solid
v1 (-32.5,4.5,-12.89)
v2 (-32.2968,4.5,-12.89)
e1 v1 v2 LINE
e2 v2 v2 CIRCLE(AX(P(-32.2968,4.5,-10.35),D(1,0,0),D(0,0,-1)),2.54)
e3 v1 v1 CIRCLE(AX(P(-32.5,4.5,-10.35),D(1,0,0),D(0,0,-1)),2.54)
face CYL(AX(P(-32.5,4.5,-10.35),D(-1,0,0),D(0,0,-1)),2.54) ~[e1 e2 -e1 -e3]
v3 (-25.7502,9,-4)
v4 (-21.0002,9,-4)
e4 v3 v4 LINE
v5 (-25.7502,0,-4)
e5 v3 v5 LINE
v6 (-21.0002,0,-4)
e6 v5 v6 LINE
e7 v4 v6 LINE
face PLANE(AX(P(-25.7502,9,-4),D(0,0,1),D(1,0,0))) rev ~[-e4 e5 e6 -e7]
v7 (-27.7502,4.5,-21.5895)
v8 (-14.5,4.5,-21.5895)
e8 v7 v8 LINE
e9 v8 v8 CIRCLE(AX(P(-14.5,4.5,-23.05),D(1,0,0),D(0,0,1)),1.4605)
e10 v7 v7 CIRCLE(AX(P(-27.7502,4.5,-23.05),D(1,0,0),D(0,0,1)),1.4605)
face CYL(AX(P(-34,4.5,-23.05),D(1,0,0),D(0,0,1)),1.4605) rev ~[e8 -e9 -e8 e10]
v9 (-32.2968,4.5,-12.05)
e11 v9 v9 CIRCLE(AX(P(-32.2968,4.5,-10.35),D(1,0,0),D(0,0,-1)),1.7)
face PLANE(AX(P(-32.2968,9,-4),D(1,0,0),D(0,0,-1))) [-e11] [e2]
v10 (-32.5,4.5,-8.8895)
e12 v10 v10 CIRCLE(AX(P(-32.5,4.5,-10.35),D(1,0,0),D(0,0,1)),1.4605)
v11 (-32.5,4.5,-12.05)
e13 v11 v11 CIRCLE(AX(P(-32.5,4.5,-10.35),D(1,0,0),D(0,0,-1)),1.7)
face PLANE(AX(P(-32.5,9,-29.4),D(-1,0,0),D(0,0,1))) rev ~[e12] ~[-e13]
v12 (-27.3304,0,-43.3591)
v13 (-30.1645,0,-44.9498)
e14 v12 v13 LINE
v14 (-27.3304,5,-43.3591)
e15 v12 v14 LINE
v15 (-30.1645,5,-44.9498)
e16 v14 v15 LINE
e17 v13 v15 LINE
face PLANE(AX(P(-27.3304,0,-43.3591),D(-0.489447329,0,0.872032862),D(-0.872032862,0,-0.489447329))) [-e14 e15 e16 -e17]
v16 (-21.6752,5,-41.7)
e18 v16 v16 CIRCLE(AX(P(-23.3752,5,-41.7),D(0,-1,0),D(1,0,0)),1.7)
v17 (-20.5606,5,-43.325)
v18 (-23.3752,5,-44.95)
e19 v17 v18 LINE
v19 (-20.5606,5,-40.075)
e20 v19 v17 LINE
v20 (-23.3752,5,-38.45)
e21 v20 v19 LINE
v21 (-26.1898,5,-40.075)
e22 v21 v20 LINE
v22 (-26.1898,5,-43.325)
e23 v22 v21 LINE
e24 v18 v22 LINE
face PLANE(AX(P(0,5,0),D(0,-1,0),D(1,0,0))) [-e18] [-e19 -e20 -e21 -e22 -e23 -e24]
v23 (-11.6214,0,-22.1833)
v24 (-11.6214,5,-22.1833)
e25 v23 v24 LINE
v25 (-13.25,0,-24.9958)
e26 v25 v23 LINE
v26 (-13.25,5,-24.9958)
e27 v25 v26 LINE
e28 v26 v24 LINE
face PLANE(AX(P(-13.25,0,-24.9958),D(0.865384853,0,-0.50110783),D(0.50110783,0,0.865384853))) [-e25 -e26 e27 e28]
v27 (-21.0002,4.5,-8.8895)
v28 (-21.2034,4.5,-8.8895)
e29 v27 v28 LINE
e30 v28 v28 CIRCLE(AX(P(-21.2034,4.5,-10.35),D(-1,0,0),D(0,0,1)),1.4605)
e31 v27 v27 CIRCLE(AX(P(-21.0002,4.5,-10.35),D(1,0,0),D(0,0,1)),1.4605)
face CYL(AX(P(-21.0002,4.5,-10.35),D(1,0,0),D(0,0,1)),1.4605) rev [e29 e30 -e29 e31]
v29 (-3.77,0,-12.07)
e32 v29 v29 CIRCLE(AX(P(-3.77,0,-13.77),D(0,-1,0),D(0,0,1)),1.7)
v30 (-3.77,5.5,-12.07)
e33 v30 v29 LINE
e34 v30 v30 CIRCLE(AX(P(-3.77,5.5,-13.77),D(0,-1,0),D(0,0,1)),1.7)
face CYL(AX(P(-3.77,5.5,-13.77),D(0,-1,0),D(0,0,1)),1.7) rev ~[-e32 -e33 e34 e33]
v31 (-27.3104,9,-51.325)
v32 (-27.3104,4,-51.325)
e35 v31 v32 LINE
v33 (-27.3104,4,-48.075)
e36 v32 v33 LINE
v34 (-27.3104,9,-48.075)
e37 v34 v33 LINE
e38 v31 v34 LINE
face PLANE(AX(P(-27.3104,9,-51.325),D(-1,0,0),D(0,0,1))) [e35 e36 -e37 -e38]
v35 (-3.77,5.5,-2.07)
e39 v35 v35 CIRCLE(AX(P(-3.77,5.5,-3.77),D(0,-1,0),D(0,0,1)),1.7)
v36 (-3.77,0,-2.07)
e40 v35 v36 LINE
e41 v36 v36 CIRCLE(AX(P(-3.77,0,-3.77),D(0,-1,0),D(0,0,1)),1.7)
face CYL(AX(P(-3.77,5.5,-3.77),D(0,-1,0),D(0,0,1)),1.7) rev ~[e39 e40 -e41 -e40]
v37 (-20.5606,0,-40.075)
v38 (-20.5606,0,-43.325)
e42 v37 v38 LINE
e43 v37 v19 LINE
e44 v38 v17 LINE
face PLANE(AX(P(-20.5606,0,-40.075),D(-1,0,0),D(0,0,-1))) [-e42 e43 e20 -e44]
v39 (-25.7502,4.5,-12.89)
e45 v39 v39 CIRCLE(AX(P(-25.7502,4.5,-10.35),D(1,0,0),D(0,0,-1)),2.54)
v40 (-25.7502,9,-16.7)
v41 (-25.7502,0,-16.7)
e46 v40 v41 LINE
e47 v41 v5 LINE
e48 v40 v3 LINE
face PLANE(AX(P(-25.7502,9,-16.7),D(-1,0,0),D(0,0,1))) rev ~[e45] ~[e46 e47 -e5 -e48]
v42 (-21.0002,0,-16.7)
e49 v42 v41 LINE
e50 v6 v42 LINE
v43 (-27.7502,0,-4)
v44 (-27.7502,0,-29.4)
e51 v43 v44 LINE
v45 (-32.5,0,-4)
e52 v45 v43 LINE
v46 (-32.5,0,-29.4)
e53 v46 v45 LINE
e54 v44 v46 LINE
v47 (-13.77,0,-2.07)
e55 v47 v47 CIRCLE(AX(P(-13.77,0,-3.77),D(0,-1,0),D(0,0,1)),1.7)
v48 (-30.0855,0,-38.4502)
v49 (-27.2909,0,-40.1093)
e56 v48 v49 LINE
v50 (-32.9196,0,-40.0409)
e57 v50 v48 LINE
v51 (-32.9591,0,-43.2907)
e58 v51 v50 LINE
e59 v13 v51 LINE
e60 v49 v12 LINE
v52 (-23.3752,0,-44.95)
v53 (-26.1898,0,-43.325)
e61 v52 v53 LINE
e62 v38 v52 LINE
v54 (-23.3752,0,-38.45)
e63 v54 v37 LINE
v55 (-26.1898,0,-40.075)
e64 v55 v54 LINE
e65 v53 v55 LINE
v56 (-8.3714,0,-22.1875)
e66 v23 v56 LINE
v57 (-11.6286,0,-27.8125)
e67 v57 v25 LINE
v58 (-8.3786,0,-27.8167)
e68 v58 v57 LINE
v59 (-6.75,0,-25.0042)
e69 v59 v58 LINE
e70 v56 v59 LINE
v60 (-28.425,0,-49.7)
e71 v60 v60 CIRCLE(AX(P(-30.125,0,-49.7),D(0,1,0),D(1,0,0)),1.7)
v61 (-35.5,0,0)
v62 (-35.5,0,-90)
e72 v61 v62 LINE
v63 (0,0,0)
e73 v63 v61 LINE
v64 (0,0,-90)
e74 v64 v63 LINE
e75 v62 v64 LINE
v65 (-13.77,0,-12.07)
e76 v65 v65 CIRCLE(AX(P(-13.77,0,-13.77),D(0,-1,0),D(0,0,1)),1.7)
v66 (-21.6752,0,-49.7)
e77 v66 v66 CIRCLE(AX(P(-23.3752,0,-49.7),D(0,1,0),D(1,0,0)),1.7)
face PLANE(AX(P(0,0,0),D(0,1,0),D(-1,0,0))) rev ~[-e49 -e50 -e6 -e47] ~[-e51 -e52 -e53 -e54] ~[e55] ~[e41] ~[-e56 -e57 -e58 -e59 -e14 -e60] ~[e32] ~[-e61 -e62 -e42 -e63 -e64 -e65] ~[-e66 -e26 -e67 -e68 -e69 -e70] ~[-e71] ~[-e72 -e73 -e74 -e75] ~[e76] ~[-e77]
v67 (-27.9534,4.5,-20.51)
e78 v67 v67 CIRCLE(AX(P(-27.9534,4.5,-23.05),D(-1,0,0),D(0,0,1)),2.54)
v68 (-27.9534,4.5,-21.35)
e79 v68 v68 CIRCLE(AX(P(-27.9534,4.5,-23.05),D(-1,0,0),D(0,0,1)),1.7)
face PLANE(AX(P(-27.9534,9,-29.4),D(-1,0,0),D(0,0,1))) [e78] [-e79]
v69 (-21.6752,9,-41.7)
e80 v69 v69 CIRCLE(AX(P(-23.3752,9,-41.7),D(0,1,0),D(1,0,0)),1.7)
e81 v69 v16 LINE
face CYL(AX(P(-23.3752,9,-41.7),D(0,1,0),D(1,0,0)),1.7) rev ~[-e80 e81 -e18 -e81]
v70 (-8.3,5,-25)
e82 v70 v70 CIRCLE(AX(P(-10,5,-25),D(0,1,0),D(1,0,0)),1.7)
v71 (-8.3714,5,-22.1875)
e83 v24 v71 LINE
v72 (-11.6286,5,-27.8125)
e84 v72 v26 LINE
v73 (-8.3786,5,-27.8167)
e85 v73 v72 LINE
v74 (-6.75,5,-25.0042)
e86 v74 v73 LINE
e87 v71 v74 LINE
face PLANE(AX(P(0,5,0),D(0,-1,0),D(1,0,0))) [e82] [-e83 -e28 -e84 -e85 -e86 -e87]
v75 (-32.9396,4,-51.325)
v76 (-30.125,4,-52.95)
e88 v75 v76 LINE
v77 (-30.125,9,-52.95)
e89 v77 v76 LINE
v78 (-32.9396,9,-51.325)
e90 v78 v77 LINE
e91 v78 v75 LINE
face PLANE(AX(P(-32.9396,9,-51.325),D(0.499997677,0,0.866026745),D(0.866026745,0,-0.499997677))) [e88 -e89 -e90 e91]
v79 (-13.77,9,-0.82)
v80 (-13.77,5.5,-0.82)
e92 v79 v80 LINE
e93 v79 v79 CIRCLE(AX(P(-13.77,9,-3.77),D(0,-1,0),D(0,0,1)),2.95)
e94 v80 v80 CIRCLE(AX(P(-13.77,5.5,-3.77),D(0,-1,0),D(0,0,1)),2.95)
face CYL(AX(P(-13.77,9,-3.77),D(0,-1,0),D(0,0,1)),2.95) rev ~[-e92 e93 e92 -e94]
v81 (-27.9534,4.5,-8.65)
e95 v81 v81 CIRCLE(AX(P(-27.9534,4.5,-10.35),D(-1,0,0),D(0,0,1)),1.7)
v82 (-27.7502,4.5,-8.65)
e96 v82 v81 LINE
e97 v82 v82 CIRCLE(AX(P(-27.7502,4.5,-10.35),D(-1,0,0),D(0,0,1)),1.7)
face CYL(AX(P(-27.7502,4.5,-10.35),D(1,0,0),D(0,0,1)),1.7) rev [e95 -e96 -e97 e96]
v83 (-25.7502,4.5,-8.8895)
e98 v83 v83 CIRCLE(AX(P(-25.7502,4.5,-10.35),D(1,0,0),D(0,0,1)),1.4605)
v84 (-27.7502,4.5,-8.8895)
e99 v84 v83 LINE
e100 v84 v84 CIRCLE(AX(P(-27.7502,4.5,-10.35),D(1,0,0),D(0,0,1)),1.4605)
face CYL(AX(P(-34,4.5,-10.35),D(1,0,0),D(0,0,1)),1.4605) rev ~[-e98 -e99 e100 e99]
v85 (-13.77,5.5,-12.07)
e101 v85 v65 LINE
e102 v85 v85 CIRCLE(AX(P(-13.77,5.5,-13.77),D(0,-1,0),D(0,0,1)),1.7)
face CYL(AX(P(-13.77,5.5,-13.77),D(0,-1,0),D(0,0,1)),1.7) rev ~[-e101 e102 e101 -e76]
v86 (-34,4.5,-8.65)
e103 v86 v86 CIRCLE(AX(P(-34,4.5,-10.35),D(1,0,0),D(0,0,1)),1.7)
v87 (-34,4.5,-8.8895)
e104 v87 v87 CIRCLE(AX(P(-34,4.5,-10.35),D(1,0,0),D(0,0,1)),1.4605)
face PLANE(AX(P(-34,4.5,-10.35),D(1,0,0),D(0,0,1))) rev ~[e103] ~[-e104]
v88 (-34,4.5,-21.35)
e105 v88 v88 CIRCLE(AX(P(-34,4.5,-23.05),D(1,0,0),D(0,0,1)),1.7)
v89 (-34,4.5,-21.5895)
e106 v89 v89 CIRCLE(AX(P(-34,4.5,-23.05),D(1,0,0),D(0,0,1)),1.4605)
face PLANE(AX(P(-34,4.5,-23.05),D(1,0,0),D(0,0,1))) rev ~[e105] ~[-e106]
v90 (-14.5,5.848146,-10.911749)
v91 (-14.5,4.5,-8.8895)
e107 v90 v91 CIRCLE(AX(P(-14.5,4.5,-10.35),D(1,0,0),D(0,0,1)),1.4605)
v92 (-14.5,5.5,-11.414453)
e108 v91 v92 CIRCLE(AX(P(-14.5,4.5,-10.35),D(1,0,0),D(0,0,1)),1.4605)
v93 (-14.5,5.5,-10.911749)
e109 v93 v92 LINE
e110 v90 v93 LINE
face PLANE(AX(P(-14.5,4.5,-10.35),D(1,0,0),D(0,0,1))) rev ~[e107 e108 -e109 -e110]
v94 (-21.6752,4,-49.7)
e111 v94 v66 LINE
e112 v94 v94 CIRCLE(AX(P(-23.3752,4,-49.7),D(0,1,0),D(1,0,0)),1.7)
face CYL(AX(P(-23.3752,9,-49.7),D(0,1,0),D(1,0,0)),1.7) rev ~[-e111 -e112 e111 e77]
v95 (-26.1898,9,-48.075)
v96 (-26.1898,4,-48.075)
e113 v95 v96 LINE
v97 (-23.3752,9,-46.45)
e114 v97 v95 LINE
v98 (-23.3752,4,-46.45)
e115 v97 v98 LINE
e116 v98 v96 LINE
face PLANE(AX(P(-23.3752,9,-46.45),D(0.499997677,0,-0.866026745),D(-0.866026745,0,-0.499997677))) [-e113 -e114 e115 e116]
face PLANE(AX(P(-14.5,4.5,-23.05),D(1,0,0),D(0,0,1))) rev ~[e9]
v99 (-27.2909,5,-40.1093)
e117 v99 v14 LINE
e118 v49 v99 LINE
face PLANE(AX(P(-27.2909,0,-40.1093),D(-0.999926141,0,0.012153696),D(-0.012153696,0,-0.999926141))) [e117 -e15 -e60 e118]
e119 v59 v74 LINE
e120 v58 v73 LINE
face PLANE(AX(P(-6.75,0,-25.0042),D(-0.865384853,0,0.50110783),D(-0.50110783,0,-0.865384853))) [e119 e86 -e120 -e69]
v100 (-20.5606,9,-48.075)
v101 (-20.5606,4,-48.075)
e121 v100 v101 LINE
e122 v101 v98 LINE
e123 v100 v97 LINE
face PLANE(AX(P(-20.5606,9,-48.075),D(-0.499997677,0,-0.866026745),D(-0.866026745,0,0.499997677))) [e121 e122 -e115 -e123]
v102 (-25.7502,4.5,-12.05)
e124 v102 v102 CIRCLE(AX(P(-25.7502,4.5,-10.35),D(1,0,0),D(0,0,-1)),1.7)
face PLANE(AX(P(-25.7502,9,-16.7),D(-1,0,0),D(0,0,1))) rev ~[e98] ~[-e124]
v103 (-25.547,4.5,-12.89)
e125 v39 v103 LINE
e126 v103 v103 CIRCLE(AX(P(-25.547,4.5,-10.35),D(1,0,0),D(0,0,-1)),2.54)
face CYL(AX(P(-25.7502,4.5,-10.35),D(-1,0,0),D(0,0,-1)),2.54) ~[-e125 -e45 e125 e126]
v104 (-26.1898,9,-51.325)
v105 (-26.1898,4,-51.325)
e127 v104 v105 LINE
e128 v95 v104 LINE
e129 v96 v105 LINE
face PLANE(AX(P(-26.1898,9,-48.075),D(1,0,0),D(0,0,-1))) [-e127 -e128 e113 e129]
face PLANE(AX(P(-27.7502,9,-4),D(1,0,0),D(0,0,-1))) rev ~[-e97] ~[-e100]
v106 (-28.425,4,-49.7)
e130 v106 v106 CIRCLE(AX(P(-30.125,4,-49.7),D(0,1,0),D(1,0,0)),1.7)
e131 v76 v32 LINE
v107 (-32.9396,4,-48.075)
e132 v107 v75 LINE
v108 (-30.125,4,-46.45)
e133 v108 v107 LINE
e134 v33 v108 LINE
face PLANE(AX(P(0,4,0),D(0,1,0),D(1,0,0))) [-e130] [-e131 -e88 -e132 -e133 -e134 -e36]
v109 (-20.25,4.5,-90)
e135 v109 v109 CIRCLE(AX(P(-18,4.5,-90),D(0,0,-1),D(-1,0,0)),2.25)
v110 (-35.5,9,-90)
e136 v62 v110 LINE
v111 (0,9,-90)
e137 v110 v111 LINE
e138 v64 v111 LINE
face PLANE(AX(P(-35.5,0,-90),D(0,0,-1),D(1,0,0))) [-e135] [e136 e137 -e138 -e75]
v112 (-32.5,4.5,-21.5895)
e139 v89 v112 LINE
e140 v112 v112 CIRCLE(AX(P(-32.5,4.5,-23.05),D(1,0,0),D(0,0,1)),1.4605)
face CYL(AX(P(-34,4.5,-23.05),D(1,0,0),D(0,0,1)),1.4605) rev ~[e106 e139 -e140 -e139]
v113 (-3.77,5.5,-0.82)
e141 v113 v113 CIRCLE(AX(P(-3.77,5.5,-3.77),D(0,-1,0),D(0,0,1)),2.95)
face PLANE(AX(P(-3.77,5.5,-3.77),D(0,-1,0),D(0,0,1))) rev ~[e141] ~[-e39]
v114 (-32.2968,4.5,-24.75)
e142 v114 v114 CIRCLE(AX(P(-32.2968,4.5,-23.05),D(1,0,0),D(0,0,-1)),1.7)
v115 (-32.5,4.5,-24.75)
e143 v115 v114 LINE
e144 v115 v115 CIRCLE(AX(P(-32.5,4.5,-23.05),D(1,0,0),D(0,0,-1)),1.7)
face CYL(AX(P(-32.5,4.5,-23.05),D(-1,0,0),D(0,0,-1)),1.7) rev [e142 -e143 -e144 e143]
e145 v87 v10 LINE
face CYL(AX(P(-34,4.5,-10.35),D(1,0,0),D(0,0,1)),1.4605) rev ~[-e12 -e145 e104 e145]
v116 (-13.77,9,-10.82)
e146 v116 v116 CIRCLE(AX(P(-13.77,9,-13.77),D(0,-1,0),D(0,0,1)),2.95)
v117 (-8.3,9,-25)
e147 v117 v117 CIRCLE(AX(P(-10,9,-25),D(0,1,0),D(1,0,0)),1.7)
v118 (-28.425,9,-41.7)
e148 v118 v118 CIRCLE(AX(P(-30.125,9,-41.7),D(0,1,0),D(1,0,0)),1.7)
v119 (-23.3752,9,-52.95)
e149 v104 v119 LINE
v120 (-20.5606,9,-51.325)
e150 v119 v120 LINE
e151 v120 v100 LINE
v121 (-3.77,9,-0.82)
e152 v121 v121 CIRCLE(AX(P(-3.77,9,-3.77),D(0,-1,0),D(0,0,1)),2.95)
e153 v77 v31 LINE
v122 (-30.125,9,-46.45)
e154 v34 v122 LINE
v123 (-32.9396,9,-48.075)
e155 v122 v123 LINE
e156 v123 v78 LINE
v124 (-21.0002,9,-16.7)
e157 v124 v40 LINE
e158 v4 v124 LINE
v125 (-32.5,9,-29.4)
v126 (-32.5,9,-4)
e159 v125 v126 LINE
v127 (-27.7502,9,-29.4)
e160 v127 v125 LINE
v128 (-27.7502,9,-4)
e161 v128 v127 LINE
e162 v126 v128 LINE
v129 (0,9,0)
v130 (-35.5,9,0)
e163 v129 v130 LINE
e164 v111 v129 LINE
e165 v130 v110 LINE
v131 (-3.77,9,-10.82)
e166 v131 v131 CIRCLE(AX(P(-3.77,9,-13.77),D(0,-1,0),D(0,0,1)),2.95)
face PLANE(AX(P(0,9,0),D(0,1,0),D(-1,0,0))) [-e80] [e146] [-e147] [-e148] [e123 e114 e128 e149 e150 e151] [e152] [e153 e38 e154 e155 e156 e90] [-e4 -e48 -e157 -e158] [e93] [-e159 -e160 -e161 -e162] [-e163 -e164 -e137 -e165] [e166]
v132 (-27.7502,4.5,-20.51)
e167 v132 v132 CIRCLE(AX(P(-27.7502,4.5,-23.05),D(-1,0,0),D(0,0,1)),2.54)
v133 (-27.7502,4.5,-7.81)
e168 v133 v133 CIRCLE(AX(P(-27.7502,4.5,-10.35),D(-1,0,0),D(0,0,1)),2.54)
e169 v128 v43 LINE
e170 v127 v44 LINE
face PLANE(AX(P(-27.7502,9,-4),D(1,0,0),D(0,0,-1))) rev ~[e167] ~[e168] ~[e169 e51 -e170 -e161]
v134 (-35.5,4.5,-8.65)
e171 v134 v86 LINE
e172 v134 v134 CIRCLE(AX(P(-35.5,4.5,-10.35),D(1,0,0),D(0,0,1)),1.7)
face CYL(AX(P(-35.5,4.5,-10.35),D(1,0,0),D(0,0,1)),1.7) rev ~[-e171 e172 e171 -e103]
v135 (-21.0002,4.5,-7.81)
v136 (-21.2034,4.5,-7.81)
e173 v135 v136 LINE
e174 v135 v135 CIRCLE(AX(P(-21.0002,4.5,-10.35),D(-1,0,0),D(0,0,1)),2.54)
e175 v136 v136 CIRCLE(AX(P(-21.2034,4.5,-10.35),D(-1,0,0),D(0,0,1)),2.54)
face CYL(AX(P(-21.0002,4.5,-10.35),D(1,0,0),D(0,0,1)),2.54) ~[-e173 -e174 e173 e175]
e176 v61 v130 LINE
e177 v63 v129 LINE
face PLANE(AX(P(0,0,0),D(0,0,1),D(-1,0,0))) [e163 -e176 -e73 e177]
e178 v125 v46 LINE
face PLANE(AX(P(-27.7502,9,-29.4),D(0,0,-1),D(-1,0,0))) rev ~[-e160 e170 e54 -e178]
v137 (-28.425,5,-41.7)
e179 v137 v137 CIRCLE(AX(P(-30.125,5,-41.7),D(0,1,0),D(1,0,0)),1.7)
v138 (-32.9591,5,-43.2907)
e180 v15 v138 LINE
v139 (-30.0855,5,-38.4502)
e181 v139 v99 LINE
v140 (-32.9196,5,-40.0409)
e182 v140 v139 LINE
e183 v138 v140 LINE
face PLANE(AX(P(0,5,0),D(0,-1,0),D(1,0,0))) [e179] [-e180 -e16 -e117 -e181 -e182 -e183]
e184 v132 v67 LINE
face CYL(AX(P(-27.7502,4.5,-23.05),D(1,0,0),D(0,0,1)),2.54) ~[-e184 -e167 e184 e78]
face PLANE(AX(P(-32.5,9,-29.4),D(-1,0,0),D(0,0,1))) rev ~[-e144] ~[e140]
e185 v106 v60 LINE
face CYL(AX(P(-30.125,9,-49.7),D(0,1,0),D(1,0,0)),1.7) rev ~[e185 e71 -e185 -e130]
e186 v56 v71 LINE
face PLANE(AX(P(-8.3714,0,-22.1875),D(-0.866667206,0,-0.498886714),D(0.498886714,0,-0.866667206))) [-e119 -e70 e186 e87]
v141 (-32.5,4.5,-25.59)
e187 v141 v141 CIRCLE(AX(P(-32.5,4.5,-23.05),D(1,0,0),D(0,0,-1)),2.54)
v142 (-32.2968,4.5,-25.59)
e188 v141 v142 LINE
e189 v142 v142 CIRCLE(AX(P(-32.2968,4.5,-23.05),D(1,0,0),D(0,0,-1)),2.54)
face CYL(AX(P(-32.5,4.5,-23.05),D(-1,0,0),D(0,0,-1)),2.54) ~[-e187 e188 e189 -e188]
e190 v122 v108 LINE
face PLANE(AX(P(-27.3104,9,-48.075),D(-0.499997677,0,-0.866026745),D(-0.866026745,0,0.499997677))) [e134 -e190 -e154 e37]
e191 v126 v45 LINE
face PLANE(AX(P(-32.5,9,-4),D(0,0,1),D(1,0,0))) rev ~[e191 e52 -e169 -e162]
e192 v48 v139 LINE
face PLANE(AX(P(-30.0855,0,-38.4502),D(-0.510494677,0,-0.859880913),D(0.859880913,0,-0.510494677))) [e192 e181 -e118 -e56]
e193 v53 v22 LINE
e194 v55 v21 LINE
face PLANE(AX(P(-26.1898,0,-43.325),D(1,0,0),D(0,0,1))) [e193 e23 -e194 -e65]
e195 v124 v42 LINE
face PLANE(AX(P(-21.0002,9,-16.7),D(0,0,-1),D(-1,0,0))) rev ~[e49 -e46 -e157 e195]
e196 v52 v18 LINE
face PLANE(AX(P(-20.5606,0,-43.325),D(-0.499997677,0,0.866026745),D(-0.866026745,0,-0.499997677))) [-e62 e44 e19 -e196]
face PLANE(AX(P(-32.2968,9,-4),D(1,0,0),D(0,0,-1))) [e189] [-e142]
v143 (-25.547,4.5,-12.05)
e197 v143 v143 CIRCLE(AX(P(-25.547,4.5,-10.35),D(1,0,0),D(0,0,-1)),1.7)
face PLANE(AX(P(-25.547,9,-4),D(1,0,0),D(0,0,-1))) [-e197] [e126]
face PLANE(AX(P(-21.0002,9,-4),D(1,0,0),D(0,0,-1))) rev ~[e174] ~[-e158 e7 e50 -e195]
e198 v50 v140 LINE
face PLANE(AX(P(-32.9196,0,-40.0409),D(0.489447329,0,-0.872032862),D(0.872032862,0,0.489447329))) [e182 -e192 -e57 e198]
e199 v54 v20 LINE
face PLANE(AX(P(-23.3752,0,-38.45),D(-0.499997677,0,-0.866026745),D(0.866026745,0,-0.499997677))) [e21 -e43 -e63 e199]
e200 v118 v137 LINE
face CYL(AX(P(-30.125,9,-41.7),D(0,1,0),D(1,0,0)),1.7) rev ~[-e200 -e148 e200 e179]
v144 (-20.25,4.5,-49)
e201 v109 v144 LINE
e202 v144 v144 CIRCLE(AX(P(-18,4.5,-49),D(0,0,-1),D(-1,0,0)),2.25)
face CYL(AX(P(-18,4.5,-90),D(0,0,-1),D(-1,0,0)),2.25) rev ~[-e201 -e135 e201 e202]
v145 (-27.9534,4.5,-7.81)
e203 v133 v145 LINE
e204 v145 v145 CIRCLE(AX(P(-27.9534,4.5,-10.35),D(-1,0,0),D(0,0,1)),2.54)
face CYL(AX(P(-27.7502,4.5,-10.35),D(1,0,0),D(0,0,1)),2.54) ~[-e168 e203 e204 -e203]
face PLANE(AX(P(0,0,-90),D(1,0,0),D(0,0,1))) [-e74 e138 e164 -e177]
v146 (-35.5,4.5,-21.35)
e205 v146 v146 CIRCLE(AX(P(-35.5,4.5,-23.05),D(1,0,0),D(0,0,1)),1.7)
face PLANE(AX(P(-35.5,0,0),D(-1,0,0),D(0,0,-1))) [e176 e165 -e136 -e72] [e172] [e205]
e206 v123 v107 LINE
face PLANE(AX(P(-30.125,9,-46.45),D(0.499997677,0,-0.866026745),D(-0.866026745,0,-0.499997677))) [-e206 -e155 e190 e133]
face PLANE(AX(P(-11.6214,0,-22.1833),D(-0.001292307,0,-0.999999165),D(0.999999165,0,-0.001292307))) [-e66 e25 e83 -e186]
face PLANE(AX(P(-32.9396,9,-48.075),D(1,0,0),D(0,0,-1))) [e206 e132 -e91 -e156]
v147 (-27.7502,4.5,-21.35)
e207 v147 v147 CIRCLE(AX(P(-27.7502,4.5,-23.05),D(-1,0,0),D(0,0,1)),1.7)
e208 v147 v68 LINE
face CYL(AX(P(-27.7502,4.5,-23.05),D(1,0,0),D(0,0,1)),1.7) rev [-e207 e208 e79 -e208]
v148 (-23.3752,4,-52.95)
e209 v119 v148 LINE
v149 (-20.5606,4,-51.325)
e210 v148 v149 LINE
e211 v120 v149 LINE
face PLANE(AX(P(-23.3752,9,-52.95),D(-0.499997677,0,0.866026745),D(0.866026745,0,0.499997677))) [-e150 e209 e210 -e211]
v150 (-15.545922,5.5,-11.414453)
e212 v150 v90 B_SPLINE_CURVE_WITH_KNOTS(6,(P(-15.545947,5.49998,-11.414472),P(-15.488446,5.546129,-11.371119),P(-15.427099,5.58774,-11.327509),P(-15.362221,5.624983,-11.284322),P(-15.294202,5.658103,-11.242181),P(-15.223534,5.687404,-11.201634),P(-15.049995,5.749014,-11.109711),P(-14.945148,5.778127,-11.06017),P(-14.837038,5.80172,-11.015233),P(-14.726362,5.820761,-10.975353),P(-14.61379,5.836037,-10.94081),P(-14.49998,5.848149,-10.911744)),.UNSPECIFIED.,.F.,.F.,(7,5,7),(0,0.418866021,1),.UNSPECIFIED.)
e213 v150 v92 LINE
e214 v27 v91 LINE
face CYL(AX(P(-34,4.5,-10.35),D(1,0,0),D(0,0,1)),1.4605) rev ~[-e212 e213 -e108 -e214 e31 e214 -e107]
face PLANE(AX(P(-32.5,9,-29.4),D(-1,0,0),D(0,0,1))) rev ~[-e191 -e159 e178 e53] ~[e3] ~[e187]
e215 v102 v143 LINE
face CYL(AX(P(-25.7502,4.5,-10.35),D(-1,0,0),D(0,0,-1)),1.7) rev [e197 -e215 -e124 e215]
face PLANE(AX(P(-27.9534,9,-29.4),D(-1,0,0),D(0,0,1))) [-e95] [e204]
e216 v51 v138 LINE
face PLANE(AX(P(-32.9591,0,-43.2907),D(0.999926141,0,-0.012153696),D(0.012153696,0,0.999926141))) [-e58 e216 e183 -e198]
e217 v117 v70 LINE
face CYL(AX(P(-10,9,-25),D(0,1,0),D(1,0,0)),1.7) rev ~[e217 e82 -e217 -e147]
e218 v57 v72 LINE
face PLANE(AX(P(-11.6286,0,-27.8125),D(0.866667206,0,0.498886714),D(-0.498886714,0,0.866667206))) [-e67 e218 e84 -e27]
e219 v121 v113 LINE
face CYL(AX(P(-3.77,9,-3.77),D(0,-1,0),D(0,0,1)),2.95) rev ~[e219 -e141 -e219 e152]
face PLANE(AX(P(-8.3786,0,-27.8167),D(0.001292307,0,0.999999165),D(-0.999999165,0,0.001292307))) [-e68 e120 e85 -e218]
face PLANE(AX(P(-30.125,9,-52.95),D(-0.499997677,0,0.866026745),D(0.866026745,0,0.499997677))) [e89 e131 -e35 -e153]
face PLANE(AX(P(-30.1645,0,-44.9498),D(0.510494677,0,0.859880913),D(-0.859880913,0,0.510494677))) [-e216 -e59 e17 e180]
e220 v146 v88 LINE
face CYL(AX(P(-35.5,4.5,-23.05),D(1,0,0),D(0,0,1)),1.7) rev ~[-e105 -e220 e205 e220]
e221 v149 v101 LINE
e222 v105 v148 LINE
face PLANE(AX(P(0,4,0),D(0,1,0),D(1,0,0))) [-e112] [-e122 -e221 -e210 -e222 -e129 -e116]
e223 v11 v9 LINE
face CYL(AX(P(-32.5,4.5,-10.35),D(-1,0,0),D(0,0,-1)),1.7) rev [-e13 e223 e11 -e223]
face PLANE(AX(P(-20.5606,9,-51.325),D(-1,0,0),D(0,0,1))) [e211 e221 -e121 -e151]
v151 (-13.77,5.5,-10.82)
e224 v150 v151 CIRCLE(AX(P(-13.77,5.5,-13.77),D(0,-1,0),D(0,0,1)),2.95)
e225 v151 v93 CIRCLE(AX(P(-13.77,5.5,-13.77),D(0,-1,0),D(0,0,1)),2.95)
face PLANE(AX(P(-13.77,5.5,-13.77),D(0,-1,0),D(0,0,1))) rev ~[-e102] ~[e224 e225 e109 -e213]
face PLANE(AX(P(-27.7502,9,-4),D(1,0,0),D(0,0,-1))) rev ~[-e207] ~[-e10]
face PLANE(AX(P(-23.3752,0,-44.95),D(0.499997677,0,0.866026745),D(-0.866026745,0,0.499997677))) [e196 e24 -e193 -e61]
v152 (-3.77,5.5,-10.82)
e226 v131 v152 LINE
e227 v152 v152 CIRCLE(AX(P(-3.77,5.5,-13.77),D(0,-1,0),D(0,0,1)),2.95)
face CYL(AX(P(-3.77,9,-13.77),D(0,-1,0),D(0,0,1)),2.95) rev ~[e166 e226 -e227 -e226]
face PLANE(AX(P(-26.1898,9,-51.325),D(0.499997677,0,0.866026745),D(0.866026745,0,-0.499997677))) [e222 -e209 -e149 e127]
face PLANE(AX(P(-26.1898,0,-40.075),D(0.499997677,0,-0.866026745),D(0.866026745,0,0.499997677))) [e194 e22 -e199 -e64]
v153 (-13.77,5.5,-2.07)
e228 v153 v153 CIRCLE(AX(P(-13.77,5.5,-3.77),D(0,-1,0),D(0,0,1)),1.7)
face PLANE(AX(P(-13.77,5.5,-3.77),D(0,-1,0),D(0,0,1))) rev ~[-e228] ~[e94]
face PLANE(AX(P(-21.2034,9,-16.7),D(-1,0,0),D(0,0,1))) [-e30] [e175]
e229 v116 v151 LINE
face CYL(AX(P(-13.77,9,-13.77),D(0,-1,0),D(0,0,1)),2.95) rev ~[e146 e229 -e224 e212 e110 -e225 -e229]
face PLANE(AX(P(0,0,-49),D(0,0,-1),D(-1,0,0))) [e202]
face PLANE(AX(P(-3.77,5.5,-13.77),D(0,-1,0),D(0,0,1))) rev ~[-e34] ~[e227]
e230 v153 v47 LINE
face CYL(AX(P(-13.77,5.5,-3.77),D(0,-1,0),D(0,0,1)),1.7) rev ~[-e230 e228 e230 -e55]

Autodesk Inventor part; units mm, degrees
ref_plane "YZ Plane" through (0, 0, 0) normal (1, 0, 0) x (0, 1, 0)
ref_plane "XZ Plane" through (0, 0, 0) normal (0, 1, 0) x (-1, 0, 0)
ref_plane "XY Plane" through (0, 0, 0) normal (0, 0, 1) x (1, 0, 0)
sketch "Sketch1" plane through (0, 0, 0) normal (0, 1, 0) x (-1, 0, 0)
  line L0 (0, 0) -> (35.5, 0)
  line L1 (35.5, 0) -> (35.5, -90)
  line L2 (35.5, -90) -> (0, -90)
  line L3 (0, -90) -> (0, 0)
  dimension "d0" = 35.5
  dimension "d1" = 90
extrude "Extrusion1" add sketch "Sketch1" along normal blind 9
sketch "Sketch3" plane through (0, 0, 0) normal (0, -1, 0) x (1, 0, 0)
  circle A0 centre (-10, -25) radius 3.25 construction
  line L0 (0, 0) -> (-35.5, 0) projected
  line L1 (-35.5, 0) -> (-35.5, -90) projected
  line L2 (-11.6286, -27.8125) -> (-13.25, -24.9958)
  line L3 (-13.25, -24.9958) -> (-11.6214, -22.1833)
  line L4 (-11.6214, -22.1833) -> (-8.3714, -22.1875)
  line L5 (-8.3714, -22.1875) -> (-6.75, -25.0042)
  line L6 (-6.75, -25.0042) -> (-8.3786, -27.8167)
  line L7 (-8.3786, -27.8167) -> (-11.6286, -27.8125)
  line L8 (0, -90) -> (0, 0) projected
  dimension "d15" = 6.5
  dimension "d16" = 25
  dimension "d26" = 10
extrude "Extrusion3" cut sketch "Sketch3" against normal blind 5
sketch "Sketch5" plane through (0, 9, 0) normal (0, 1, 0) x (1, 0, 0)
  line L0 (0, 0) -> (0, 90) projected
  line L1 (-35.5, 0) -> (0, 0) projected
  circle A0 centre (-10, 25) radius 1.7
  dimension "d36" = 3.4
  dimension "d37" = 25
extrude "Extrusion4" cut sketch "Sketch5" against normal through all
sketch "Sketch6" plane through (0, 9, 0) normal (0, 1, 0) x (1, 0, 0)
  line L0 (-32.5, 4) -> (-27.7502, 4)
  line L1 (-27.7502, 4) -> (-27.7502, 29.4)
  line L2 (-27.7502, 29.4) -> (-32.5, 29.4)
  line L3 (-32.5, 29.4) -> (-32.5, 4)
  line L4 (-35.5, 0) -> (0, 0) projected
  line L5 (-35.5, 90) -> (-35.5, 0) projected
  line L6 (-25.7502, 4) -> (-21.0002, 4)
  line L7 (-21.0002, 4) -> (-21.0002, 16.7)
  line L8 (-21.0002, 16.7) -> (-25.7502, 16.7)
  line L9 (-25.7502, 16.7) -> (-25.7502, 4)
  line L10 (0, 0) -> (0, 90) construction
  line L11 (-35.5, 90) -> (0, 90) projected
  line L12 (0, 0) -> (-20, 0) construction
  line L13 (-20, 0) -> (-20, 90) construction
  line L14 (-20, 90) -> (0, 90) construction
  line L15 (0, 90) -> (0, 0)
  circle A0 centre (-23.3752, 41.7) radius 1.7
  circle A1 centre (-30.125, 41.7) radius 1.7
  circle A2 centre (-30.125, 49.7) radius 1.7
  circle A3 centre (-23.3752, 49.7) radius 1.7
  dimension "d43" = 4.7498
  dimension "d44" = 25.4
  dimension "d45" = 4
  dimension "d46" = 3
  dimension "d47" = 4.75
  dimension "d48" = 2
  dimension "d49" = 20
  dimension "d50" = 3.4
  dimension "d90" = 3.4
  dimension "d91" = 5.375
  dimension "d92" = 3.4
  dimension "d93" = 8
  dimension "d94" = 3.4
  dimension "d99" = 40.3
extrude "Extrusion5" cut sketch "Sketch6" against normal through all contours L3 L2 L1 L0 | L9 L8 L7 L6 | A0 | A1 | A2 | A3
sketch "Sketch7" plane through (0, 0, 0) normal (0, -1, 0) x (1, 0, 0)
  circle A0 centre (-23.3752, -41.7) radius 1.7 projected
  circle A1 centre (-23.3752, -41.7) radius 3.25 construction
  line L0 (-23.3752, -38.45) -> (-20.5606, -40.075)
  line L1 (-20.5606, -40.075) -> (-20.5606, -43.325)
  line L2 (-20.5606, -43.325) -> (-23.3752, -44.95)
  line L3 (-23.3752, -44.95) -> (-26.1898, -43.325)
  line L4 (-26.1898, -43.325) -> (-26.1898, -40.075)
  line L5 (-26.1898, -40.075) -> (-23.3752, -38.45)
  line L6 (0, 0) -> (-35.5, 0) projected
  circle A2 centre (-30.125, -41.7) radius 3.25 construction
  line L7 (-35.5, 0) -> (-35.5, -90) projected
  line L8 (-30.1645, -44.9498) -> (-32.9591, -43.2907)
  line L9 (-32.9591, -43.2907) -> (-32.9196, -40.0409)
  line L10 (-32.9196, -40.0409) -> (-30.0855, -38.4502)
  line L11 (-30.0855, -38.4502) -> (-27.2909, -40.1093)
  line L12 (-27.2909, -40.1093) -> (-27.3304, -43.3591)
  line L13 (-27.3304, -43.3591) -> (-30.1645, -44.9498)
  dimension "d88" = 6.5
  dimension "d54" = 6.5
  dimension "d87" = 41.7
  dimension "d89" = 5.375
extrude "Extrusion6" cut sketch "Sketch7" against normal blind 5
sketch "Sketch8" plane through (-35.5, 0, -90) normal (-1, 0, 0) x (0, 0, 1)
  circle A0 centre (79.65, 4.5) radius 1.4605
  line L0 (0, 9) -> (90, 9) projected
  line L1 (90, 0) -> (90, 9) projected
  circle A1 centre (66.95, 4.5) radius 1.4605
  dimension "d57" = 2.921
  dimension "d58" = 4.5
  dimension "d59" = 10.35
  dimension "d103" = 2.921
  dimension "d104" = 4.5
  dimension "d105" = 12.7
hole "Hole1" at (-35.5, 4.5, -10.35) at (-35.5, 4.5, -23.05) direction (1, 0, 0) diameter 2.921 depth 21 counterbore diameter 3.4 counterbore depth 1.5
sketch "Sketch9" plane through (-21.0002, 9, -16.7) normal (-1, 0, 0) x (0, 0, 1)
  circle A0 centre (6.35, -4.5) radius 1.4605 projected
  circle A1 centre (6.35, -4.5) radius 2.54
  point P0 (16.7, -9)
  dimension "d67" = 5.08
extrude "Extrusion7" add sketch "Sketch9" along normal blind 0.2032
sketch "Sketch10" plane through (-27.7502, 9, -29.4) normal (-1, 0, 0) x (0, 0, 1)
  circle A0 centre (6.35, -4.5) radius 1.7 projected
  circle A1 centre (6.35, -4.5) radius 2.54
  circle A2 centre (19.05, -4.5) radius 2.54 projected
  circle A3 centre (19.05, -4.5) radius 2.54
  circle A4 centre (19.05, -4.5) radius 1.7
  point P0 (29.4, -9)
  dimension "d70" = 5.08
  dimension "d106" = 3.4
extrude "Extrusion8" add sketch "Sketch10" along normal blind 0.2032
sketch "Sketch11" plane through (-25.7502, 9, -4) normal (1, 0, 0) x (0, 0, -1)
  circle A0 centre (6.35, -4.5) radius 1.7 projected
  circle A1 centre (6.35, -4.5) radius 2.54
  point P0 (-4, -9)
  dimension "d73" = 5.08
extrude "Extrusion9" add sketch "Sketch11" along normal blind 0.2032
sketch "Sketch12" plane through (-32.5, 9, -4) normal (1, 0, 0) x (0, 0, -1)
  circle A0 centre (6.35, -4.5) radius 1.7 projected
  circle A1 centre (6.35, -4.5) radius 2.54
  circle A2 centre (19.05, -4.5) radius 1.4605 projected
  circle A3 centre (19.05, -4.5) radius 2.54
  circle A4 centre (19.05, -4.5) radius 1.7
  point P0 (-4, -9)
  dimension "d76" = 5.08
  dimension "d107" = 5.08
  dimension "d108" = 3.4
extrude "Extrusion10" add sketch "Sketch12" along normal blind 0.2032 contours A1 | A3
sketch "Sketch14" plane through (0, 0, -90) normal (0, 0, -1) x (-1, 0, 0)
  circle A0 centre (18, 4.5) radius 2.25
  line L0 (35.5, 0) -> (0, 0) projected
  line L1 (0, 0) -> (0, 9) projected
  dimension "d82" = 4.5
  dimension "d83" = 4.5
  dimension "d84" = 18
extrude "Extrusion11" cut sketch "Sketch14" against normal blind 41
sketch "Sketch15" plane through (0, 9, 0) normal (0, 1, 0) x (1, 0, 0)
  circle A0 centre (-30.125, 49.7) radius 1.7 projected
  circle A1 centre (-30.125, 49.7) radius 3.25 construction
  circle A2 centre (-23.3752, 49.7) radius 1.7 projected
  circle A3 centre (-23.3752, 49.7) radius 3.25 construction
  line L0 (-30.125, 52.95) -> (-27.3104, 51.325)
  line L1 (-27.3104, 51.325) -> (-27.3104, 48.075)
  line L2 (-27.3104, 48.075) -> (-30.125, 46.45)
  line L3 (-30.125, 46.45) -> (-32.9396, 48.075)
  line L4 (-32.9396, 48.075) -> (-32.9396, 51.325)
  line L5 (-32.9396, 51.325) -> (-30.125, 52.95)
  line L6 (-23.3752, 52.95) -> (-20.5606, 51.325)
  line L7 (-20.5606, 51.325) -> (-20.5606, 48.075)
  line L8 (-20.5606, 48.075) -> (-23.3752, 46.45)
  line L9 (-23.3752, 46.45) -> (-26.1898, 48.075)
  line L10 (-26.1898, 48.075) -> (-26.1898, 51.325)
  line L11 (-26.1898, 51.325) -> (-23.3752, 52.95)
  point P0 (0, 0)
  dimension "d95" = 6.5
  dimension "d96" = 6.5
extrude "Extrusion12" cut sketch "Sketch15" against normal blind 5
sketch "Sketch17" plane through (0, 9, 0) normal (0, 1, 0) x (1, 0, 0)
  arc A0 (-2.6064, 3.3135) -> (-3.3135, 2.6064) centre (-3.77, 3.77) ccw construction
  arc A1 (-14.2265, 2.6064) -> (-14.9336, 3.3135) centre (-13.77, 3.77) ccw construction
  arc A2 (-14.9336, 14.2265) -> (-14.2265, 14.9336) centre (-13.77, 13.77) ccw construction
  arc A3 (-3.3135, 14.9336) -> (-2.6064, 14.2265) centre (-3.77, 13.77) ccw construction
  point P0 (0, 0)
hole "Hole2" at (-3.77, 9, -3.77) at (-13.77, 9, -3.77) at (-13.77, 9, -13.77) at (-3.77, 9, -13.77) direction (0, -1, 0) diameter 3.4 end through all counterbore diameter 5.9 counterbore depth 3.5
properties part number "Fixed top coupler"
